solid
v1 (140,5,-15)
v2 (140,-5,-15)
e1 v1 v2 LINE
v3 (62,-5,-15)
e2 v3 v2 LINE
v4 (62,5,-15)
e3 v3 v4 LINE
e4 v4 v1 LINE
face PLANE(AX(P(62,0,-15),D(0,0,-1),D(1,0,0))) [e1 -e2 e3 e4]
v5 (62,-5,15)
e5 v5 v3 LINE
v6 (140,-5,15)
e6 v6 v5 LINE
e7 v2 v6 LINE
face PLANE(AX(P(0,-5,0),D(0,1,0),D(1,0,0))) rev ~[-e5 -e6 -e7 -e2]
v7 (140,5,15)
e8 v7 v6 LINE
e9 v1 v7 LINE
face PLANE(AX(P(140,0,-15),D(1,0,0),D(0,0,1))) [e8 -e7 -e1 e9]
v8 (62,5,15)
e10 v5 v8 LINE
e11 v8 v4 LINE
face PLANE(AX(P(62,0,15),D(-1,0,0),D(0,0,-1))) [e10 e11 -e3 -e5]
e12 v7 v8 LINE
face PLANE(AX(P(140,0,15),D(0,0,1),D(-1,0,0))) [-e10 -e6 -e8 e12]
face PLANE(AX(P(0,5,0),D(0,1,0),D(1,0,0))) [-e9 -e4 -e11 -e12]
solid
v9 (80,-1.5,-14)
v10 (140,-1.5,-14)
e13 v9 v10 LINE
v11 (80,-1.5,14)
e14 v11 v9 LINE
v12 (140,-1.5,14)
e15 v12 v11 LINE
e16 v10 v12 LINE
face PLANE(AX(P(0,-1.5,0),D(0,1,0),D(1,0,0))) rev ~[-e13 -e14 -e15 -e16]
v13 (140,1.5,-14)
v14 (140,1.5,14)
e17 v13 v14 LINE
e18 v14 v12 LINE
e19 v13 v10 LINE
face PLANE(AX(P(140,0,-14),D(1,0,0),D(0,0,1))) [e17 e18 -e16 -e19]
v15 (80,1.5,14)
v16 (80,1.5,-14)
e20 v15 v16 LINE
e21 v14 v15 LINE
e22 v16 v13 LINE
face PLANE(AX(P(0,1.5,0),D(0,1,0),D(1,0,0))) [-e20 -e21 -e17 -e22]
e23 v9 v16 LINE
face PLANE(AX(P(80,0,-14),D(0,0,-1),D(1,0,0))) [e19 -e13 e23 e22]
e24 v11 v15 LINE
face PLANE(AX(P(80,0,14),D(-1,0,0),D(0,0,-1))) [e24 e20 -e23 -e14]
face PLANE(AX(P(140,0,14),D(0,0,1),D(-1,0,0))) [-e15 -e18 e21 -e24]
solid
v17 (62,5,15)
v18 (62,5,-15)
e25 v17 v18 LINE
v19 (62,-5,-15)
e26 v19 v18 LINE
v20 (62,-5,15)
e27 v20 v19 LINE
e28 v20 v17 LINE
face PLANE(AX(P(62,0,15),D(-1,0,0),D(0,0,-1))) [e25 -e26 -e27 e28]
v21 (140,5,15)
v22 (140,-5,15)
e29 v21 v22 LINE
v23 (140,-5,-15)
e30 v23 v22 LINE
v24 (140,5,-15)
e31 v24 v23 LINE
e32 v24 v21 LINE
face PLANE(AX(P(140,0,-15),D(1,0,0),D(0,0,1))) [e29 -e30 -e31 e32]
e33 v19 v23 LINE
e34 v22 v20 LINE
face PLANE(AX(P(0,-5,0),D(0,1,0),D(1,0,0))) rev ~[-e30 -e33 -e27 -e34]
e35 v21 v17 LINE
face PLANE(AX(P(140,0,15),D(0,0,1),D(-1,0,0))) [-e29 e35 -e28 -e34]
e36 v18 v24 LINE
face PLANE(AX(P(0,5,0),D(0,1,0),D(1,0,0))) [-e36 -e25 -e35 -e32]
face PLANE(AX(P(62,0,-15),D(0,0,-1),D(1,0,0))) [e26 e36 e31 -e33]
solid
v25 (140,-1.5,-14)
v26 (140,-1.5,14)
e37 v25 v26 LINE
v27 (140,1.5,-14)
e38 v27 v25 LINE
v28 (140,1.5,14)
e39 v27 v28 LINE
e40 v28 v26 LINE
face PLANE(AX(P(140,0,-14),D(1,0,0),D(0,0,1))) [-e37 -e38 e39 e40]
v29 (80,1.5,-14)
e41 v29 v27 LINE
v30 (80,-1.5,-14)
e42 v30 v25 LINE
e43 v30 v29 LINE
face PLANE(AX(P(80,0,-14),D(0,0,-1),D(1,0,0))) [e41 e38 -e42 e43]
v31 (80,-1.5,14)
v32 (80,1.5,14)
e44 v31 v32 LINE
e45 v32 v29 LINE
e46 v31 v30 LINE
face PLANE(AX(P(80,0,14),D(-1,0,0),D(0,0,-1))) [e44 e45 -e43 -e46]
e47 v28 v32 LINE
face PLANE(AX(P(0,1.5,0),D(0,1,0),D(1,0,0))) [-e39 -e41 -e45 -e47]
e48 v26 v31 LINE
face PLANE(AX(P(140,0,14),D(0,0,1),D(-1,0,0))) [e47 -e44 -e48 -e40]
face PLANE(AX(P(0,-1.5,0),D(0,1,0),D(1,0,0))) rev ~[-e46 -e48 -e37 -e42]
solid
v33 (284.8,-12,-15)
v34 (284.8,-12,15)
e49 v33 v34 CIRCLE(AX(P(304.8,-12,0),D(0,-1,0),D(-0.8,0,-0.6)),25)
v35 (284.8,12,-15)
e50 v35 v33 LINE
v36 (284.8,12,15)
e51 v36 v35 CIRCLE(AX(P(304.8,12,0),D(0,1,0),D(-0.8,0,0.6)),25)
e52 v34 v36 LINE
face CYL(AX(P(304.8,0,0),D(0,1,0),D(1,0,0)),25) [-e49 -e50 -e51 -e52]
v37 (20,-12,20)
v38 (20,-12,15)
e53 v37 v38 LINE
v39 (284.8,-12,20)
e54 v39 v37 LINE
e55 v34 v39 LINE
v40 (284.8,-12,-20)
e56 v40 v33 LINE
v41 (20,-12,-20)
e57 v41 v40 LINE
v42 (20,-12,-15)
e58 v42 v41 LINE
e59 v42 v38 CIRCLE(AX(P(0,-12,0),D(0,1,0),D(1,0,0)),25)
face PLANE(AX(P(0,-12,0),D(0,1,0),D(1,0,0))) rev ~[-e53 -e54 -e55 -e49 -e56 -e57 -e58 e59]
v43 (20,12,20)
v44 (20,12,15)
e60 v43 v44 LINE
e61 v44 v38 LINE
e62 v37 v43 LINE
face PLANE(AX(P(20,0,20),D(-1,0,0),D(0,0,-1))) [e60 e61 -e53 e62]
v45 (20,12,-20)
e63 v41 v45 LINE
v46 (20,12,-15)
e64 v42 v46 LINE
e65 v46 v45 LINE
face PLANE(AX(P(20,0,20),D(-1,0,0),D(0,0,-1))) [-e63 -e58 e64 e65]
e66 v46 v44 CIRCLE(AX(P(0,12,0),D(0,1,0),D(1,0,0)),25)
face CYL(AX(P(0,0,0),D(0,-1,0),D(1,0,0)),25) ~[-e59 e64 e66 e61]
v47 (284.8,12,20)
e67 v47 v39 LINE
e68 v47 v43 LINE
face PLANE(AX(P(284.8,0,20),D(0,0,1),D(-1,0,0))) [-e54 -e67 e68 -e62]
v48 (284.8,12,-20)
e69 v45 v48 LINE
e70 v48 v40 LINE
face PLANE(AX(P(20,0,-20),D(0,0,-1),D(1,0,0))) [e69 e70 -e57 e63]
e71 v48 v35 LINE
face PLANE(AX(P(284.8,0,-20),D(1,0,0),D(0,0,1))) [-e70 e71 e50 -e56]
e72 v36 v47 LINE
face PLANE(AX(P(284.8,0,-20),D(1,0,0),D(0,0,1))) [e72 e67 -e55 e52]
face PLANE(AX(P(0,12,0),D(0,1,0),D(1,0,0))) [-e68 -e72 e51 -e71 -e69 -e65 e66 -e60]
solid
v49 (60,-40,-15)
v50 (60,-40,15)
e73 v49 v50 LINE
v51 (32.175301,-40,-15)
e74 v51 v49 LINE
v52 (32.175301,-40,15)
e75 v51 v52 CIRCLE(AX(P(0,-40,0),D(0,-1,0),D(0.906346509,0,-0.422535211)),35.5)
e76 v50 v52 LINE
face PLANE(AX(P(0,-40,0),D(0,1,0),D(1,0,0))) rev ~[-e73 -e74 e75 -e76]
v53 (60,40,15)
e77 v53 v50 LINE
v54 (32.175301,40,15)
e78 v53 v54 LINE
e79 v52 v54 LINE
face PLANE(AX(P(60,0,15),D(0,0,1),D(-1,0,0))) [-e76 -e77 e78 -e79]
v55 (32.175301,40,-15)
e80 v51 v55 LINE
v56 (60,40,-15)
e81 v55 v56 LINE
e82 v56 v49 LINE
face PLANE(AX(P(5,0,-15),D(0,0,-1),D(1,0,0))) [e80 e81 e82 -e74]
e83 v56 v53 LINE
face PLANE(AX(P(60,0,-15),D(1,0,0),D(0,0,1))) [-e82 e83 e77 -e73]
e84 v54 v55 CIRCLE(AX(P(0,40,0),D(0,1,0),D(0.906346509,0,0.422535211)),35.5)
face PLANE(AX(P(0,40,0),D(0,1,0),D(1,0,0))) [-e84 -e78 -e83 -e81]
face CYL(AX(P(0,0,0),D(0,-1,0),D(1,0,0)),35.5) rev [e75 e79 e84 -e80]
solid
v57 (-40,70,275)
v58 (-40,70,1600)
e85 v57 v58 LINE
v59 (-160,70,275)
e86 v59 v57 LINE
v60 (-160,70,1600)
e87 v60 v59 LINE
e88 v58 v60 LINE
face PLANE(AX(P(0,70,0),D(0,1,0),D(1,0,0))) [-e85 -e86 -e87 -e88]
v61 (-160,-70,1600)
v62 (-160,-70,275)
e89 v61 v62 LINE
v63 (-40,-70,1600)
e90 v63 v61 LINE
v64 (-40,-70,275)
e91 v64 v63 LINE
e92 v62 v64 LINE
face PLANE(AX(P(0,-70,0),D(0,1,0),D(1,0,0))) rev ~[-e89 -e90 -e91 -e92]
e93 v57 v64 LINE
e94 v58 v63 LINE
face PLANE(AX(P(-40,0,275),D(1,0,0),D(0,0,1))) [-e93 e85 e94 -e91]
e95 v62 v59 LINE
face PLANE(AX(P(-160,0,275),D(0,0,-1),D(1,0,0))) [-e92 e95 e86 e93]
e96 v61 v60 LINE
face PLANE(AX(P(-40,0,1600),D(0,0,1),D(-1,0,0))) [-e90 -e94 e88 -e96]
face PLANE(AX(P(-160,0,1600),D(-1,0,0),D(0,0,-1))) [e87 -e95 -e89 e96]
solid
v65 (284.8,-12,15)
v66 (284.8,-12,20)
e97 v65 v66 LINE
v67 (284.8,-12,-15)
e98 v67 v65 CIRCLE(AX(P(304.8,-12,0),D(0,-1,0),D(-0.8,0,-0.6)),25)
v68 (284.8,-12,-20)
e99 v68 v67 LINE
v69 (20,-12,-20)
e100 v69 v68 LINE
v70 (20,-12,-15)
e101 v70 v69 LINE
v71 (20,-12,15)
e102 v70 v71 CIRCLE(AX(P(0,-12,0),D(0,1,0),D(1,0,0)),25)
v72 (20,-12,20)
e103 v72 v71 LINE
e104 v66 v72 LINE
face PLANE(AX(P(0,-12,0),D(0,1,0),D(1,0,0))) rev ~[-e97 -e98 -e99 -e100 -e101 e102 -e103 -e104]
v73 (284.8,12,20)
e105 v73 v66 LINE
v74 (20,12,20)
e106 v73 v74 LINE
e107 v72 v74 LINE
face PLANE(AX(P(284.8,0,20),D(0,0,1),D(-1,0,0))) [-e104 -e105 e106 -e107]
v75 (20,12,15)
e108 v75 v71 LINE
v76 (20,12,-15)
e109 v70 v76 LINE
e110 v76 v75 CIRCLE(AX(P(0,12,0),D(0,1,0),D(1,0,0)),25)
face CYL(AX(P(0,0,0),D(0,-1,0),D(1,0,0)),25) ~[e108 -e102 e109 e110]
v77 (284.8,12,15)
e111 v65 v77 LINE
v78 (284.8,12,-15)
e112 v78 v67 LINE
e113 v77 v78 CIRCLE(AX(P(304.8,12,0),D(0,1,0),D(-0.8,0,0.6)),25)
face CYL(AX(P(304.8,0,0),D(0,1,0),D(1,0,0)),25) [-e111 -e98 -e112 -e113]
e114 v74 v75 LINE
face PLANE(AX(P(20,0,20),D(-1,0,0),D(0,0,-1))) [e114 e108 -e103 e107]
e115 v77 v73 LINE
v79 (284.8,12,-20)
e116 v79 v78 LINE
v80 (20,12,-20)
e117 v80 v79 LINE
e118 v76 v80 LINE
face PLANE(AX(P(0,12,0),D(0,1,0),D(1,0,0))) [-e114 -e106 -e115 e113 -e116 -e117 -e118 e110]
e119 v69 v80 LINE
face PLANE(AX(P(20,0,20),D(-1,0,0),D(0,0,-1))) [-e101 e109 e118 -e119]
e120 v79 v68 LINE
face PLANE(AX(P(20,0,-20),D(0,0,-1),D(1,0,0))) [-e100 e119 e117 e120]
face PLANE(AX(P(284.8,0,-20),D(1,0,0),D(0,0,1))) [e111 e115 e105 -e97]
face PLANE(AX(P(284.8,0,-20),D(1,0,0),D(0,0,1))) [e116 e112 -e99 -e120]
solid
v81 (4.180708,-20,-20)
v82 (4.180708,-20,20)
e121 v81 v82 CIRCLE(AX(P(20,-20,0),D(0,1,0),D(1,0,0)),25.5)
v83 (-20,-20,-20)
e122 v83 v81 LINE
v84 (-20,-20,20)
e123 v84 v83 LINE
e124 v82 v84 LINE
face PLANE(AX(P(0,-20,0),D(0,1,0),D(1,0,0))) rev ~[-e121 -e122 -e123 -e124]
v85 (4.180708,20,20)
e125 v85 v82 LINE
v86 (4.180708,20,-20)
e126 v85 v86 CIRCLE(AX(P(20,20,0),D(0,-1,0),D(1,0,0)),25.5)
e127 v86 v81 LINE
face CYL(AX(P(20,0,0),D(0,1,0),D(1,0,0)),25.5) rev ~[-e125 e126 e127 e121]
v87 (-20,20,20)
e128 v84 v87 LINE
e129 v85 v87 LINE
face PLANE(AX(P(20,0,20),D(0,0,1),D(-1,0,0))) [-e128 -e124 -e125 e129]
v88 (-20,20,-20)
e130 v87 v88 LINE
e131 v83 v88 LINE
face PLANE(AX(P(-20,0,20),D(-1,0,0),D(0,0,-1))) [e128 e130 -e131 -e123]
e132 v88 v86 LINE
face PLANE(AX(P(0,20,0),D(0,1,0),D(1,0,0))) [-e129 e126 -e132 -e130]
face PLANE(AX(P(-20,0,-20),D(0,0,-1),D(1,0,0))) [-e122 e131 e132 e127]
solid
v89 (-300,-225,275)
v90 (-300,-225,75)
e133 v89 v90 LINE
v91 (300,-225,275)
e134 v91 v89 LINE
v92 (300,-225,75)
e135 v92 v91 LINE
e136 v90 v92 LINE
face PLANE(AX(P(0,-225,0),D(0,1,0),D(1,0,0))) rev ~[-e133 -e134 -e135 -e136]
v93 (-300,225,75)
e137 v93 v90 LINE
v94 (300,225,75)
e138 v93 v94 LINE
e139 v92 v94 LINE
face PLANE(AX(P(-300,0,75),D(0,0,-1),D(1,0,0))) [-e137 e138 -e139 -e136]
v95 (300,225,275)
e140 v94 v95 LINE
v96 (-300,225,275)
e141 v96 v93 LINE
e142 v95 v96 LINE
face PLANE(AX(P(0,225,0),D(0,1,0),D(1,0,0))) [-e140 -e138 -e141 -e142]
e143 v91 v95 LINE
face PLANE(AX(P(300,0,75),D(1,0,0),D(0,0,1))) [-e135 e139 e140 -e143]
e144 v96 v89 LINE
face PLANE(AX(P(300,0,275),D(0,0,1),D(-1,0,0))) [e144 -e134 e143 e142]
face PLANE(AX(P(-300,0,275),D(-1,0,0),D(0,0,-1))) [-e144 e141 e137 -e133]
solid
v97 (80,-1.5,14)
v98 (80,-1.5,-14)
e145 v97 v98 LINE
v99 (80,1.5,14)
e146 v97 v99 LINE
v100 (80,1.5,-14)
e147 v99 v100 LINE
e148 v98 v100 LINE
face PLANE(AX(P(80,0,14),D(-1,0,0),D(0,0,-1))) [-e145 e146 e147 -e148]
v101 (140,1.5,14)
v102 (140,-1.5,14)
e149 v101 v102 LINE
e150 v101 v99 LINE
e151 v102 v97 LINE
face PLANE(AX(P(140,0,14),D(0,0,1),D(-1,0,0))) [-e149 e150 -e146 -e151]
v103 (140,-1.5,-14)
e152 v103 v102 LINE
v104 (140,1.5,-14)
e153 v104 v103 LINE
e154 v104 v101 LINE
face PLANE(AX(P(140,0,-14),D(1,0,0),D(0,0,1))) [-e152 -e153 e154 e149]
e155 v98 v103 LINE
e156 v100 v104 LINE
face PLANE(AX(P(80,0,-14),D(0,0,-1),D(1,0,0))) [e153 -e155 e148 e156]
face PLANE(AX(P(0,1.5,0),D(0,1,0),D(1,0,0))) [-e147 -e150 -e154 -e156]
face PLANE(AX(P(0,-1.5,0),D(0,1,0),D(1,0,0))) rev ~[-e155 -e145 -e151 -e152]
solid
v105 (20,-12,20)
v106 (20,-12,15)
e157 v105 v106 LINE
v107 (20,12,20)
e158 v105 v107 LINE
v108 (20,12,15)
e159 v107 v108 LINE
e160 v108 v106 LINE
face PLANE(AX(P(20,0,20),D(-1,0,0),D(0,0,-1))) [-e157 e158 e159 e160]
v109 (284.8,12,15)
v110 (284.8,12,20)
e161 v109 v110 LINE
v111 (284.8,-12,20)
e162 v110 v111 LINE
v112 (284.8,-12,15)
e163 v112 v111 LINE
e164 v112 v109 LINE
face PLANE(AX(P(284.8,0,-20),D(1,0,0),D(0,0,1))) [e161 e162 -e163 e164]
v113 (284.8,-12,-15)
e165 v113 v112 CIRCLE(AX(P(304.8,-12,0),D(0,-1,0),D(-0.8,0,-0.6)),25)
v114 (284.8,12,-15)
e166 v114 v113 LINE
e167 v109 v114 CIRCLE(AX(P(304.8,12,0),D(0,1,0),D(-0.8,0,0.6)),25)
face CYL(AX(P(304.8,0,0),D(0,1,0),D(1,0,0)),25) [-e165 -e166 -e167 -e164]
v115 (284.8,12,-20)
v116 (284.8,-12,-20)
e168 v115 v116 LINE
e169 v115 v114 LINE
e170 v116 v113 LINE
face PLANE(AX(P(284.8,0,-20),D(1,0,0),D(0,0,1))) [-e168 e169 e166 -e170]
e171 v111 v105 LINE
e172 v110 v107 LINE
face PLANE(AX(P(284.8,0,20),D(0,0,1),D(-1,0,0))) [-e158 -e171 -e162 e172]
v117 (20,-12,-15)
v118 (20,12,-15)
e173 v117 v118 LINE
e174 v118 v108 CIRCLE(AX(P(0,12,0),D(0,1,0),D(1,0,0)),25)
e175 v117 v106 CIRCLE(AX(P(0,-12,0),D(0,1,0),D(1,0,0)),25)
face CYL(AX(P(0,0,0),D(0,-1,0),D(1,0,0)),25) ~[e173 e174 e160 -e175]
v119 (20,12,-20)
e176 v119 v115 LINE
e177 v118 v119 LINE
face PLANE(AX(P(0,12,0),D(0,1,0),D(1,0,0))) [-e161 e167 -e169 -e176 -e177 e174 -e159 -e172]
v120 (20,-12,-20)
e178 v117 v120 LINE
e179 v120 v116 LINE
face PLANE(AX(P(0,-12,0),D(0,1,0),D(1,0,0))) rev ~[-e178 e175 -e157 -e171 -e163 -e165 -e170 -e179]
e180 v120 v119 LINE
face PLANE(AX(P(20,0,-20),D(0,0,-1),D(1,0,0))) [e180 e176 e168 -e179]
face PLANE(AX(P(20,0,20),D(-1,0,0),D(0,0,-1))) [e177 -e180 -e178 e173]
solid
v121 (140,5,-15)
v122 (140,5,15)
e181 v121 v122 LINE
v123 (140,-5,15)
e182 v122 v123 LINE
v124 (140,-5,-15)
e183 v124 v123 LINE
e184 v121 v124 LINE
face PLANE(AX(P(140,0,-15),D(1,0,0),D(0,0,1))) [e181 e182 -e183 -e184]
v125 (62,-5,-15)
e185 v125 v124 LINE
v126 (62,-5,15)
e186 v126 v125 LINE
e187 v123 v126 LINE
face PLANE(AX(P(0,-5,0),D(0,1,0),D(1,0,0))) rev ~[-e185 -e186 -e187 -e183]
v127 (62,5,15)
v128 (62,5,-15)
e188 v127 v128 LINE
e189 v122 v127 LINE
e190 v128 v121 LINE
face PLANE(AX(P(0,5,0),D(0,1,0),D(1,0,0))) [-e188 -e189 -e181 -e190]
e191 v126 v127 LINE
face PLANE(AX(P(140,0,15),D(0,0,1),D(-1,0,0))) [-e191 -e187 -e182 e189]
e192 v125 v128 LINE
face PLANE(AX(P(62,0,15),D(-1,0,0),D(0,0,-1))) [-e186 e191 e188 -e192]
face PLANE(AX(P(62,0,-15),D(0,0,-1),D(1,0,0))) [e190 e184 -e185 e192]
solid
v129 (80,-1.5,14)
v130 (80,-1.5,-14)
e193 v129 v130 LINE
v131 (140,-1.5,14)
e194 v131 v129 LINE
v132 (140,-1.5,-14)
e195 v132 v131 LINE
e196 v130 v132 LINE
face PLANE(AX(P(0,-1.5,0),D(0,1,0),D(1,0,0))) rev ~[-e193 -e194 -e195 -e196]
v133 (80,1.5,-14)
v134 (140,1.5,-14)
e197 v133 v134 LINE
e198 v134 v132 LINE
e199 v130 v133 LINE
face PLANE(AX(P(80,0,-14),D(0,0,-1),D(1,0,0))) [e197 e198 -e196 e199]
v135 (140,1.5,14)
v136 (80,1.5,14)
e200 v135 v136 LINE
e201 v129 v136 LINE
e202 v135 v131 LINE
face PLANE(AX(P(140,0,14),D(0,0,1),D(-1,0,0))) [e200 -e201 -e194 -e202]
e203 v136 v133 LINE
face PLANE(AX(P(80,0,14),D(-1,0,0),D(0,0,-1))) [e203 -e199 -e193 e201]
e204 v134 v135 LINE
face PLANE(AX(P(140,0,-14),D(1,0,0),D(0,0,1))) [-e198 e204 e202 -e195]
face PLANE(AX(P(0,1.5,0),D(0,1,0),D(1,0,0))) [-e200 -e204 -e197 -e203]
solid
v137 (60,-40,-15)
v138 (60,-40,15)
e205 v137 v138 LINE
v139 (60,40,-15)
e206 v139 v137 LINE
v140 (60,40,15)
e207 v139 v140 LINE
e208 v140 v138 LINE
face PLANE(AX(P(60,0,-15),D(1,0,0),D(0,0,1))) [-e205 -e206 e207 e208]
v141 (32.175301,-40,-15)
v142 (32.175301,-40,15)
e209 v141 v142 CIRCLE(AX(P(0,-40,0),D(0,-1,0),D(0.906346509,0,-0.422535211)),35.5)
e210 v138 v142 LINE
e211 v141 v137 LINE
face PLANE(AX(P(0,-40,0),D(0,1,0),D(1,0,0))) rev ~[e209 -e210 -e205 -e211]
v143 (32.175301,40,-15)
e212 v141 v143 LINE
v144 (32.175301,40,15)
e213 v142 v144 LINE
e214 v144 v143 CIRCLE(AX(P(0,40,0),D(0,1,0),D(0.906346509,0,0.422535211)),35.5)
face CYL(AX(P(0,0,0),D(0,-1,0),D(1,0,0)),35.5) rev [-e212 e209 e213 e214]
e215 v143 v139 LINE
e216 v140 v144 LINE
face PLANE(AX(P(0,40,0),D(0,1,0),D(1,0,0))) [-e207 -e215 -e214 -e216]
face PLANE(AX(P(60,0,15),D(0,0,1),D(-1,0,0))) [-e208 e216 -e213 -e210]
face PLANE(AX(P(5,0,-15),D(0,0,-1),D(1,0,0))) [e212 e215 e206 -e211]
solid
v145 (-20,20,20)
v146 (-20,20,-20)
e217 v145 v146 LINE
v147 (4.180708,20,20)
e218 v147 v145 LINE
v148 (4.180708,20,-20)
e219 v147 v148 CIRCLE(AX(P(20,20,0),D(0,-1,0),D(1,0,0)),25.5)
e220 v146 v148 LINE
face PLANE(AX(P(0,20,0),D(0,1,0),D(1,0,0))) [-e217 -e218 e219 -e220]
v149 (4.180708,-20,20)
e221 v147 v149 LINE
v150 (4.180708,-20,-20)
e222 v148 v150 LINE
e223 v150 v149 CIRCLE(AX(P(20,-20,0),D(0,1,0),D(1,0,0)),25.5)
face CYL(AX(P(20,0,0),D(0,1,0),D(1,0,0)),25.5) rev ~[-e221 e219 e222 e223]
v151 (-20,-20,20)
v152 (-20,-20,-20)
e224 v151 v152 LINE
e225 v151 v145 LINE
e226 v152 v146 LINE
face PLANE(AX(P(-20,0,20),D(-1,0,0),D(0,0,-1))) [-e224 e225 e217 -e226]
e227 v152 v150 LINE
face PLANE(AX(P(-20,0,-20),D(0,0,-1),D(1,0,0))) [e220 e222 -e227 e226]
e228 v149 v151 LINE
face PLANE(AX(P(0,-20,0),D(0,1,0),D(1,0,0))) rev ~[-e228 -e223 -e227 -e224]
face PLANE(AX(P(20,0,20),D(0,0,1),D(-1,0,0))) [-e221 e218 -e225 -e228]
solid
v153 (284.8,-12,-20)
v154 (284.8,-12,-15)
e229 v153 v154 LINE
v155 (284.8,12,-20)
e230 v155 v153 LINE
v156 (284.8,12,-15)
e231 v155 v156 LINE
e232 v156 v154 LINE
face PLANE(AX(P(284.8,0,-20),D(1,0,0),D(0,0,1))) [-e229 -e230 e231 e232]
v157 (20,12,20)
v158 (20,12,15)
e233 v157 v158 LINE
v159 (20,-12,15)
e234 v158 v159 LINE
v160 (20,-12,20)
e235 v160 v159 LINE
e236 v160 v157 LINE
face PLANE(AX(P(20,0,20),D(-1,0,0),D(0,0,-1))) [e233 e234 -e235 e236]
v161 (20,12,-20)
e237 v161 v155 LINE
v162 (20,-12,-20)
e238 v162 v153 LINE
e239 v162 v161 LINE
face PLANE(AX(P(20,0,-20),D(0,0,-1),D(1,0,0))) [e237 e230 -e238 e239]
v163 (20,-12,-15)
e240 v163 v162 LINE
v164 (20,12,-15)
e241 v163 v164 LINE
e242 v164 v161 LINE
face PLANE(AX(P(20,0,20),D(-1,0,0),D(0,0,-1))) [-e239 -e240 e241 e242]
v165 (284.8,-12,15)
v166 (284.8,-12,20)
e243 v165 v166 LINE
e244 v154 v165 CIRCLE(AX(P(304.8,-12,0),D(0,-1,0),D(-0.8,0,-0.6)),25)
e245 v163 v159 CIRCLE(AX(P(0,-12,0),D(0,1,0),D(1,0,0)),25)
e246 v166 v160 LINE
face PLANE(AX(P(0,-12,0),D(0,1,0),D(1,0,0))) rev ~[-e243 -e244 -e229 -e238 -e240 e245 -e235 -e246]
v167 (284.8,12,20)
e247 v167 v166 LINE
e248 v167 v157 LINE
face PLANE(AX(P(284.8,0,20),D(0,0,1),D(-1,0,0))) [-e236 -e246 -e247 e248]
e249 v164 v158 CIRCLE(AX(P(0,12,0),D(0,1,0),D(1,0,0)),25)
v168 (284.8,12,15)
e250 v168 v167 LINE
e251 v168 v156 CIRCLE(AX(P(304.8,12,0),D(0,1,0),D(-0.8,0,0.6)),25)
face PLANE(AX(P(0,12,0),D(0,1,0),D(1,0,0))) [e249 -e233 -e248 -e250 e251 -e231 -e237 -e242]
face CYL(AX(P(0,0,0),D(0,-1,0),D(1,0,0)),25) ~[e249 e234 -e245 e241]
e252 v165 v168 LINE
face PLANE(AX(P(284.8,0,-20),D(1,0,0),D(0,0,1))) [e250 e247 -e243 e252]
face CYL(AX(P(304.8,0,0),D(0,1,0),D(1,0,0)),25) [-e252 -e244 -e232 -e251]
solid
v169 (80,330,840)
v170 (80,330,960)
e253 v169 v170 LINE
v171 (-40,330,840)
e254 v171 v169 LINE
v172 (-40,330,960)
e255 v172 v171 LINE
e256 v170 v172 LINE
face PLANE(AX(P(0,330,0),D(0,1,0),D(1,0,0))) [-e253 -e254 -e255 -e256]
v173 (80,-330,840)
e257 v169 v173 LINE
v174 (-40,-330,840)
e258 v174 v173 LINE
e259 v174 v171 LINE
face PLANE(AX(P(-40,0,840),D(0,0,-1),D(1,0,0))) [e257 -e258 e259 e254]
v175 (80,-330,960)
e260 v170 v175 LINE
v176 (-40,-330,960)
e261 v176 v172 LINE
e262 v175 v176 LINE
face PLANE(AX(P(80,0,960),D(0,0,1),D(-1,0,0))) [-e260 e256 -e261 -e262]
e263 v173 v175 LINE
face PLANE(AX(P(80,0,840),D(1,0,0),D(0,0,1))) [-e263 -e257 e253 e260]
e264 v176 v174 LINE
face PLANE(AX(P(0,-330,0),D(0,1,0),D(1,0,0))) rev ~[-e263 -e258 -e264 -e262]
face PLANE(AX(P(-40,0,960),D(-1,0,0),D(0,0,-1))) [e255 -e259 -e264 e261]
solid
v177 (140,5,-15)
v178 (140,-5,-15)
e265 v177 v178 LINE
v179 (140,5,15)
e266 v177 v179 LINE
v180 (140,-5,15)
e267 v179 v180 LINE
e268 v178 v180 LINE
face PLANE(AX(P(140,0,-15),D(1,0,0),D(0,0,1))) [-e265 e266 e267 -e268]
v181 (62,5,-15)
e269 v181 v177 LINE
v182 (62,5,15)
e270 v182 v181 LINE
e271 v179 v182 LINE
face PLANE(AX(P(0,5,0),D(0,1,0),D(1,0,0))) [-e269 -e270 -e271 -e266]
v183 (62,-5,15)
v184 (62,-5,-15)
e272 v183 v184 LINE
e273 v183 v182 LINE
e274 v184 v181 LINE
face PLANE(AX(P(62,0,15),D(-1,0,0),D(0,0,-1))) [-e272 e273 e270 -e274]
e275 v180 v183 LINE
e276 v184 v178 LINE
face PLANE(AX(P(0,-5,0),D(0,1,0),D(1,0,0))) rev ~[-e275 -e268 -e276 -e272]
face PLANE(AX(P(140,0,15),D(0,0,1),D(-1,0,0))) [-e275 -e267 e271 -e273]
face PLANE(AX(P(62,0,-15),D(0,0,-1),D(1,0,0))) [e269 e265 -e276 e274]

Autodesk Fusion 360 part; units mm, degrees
sketch "Layout_Side" plane through (0, 0, 0) normal (0, 1, 0) x (1, 0, 0) in component "00_Layout"
  line L0 (0, 0) -> (0, -1676.4) construction
  line L1 (300, -275) -> (-300, -275) construction
  line L2 (-300, -275) -> (-300, -75) construction
  line L3 (-300, -75) -> (300, -75) construction
  line L4 (300, -75) -> (300, -275) construction
  line L5 (300, -275) -> (-300, -75) construction
  line L6 (-300, -275) -> (300, -75) construction
  line L7 (0, -1676.4) -> (600, -1676.4) construction
  line L8 (0, -175) -> (0, -75) construction
  dimension "d1" = 200
  dimension "d2" = 600
  dimension "d4" = 600
  dimension "d5" = 75
  dimension "d6" = 1676.4
sketch "Base_Profile" plane through (0, 0, 0) normal (0, 1, 0) x (1, 0, 0) in component "01_Base_Envelope"
  line L0 (300, -275) -> (-300, -275)
  line L1 (-300, -275) -> (-300, -75)
  line L2 (-300, -75) -> (300, -75)
  line L3 (300, -75) -> (300, -275)
extrude "Chassis_Width_450mm" add sketch "Base_Profile" along normal mid plane 450 makes body 1 in component "01_Base_Envelope"
sketch "Mast_Envelope_Side_Profile" plane through (0, 0, 0) normal (0, 1, 0) x (1, 0, 0) in component "02_Mast_Envelope"
  line L0 (-160, -275) -> (-40, -275)
  line L1 (-40, -275) -> (-40, -1600)
  line L2 (-40, -1600) -> (-160, -1600)
  line L3 (-160, -1600) -> (-160, -275)
  line L4 (300, -275) -> (-300, -275) construction
  dimension "d9" = 120
  dimension "d10" = 1325
  dimension "d11" = 160
extrude "Mast_Envelope_Width_140mm" add sketch "Mast_Envelope_Side_Profile" along normal mid plane 140 separate body makes body 2 in component "02_Mast_Envelope"
sketch "Shared_Carriage_Side_Profile" plane through (0, 0, 0) normal (0, 1, 0) x (1, 0, 0) in component "03_Shared_Carriage"
  line L0 (-40, -840) -> (80, -840)
  line L1 (80, -840) -> (80, -960)
  line L2 (80, -960) -> (-40, -960)
  line L3 (-40, -960) -> (-40, -840)
  dimension "d14" = 120
  dimension "d15" = 120
  dimension "d16" = 40
  dimension "d17" = 840
extrude "Shared_Carriage_Width_660mm" add sketch "Shared_Carriage_Side_Profile" along normal mid plane 660 separate body makes body 3 in component "03_Shared_Carriage"
ref_plane "WorkPlane1" through (0, 300, 0) normal (0, 1, 0) x (0, 0, 1) in component "00_Layout"
sketch "Reach_Left_Floor_2x304p8mm" plane through (0, 300, 0) normal (0, 1, 0) x (1, 0, 0) in component "00_Layout"
  circle A0 centre (80, -400) radius 609.6 construction
  line L0 (80, -400) -> (380.0994, -346.6765) construction
  line L1 (380.0994, -346.6765) -> (450, -50) construction
  dimension "d25" = 80
  dimension "d26" = 400
  dimension "d27" = 450
  dimension "d28" = 50
  dimension "d29" = 609.6
  dimension "d30" = 304.8
  dimension "d31" = 304.8
sketch "Reach_Left_Shelf_2x304p8mm" plane through (0, 300, 0) normal (0, 1, 0) x (1, 0, 0) in component "00_Layout"
  circle A0 centre (80, -1400) radius 609.6 construction
  line L0 (80, -1400) -> (198.6357, -1680.7643) construction
  line L1 (198.6357, -1680.7643) -> (500, -1726.4) construction
  dimension "d32" = 80
  dimension "d33" = 1400
  dimension "d34" = 500
  dimension "d35" = 1726.4
  dimension "d36" = 609.6
  dimension "d37" = 304.8
  dimension "d38" = 304.8
ref_plane "WorkPlane2" through (0, -300, 0) normal (0, 1, 0) x (0, 0, 1) in component "00_Layout"
sketch "Reach_Right_Floor_2x304p8mm" plane through (0, -300, 0) normal (0, 1, 0) x (1, 0, 0) in component "00_Layout"
  circle A0 centre (80, -400) radius 609.6 construction
  line L0 (80, -400) -> (380.0994, -346.6765) construction
  line L1 (380.0994, -346.6765) -> (450, -50) construction
  dimension "d41" = 80
  dimension "d42" = 400
  dimension "d43" = 450
  dimension "d44" = 50
  dimension "d45" = 609.6
  dimension "d46" = 304.8
  dimension "d47" = 304.8
sketch "Reach_Right_Shelf_2x304p8mm" plane through (0, -300, 0) normal (0, 1, 0) x (1, 0, 0) in component "00_Layout"
  circle A0 centre (80, -1400) radius 609.6 construction
  line L0 (80, -1400) -> (198.6357, -1680.7643) construction
  line L1 (198.6357, -1680.7643) -> (500, -1726.4) construction
  dimension "d48" = 80
  dimension "d49" = 1400
  dimension "d50" = 500
  dimension "d51" = 1726.4
  dimension "d52" = 609.6
  dimension "d53" = 304.8
  dimension "d54" = 304.8
sketch "Shoulder_Mount_Profile" plane through (0, 0, 0) normal (0, 1, 0) x (1, 0, 0) in component "04_Left_Shoulder_Standoff"
  line L0 (-20, 20) -> (20, 20)
  line L1 (20, 20) -> (20, -20)
  line L2 (20, -20) -> (-20, -20)
  line L3 (-20, -20) -> (-20, 20)
  dimension "d55" = 20
  dimension "d56" = 20
  dimension "d57" = 40
  dimension "d58" = 40
extrude "Shoulder_Mount" add sketch "Shoulder_Mount_Profile" along normal mid plane 40 separate body makes body 4 in component "04_Left_Shoulder_Standoff"
sketch "Upper_Link_304p8mm_Profile" plane through (0, 0, 0) normal (0, 1, 0) x (1, 0, 0) in component "05_Left_Upper_Arm"
  line L0 (20, 20) -> (284.8, 20)
  line L1 (284.8, 20) -> (284.8, -20)
  line L2 (284.8, -20) -> (20, -20)
  line L3 (20, -20) -> (20, 20)
  dimension "d61" = 20
  dimension "d62" = 20
  dimension "d63" = 264.8
  dimension "d64" = 40
extrude "Upper_Link_304p8mm" add sketch "Upper_Link_304p8mm_Profile" along normal mid plane 24 separate body makes body 5 in component "05_Left_Upper_Arm"
sketch "Joint_Axis_Locations" plane through (0, 0, 0) normal (0, 1, 0) x (1, 0, 0) in component "05_Left_Upper_Arm"
  line L0 (0, 0) -> (304.8, 0) construction
  dimension "d67" = 304.8
sketch "Fore_Link_304p8mm_Profile" plane through (0, 0, 0) normal (0, 1, 0) x (1, 0, 0) in component "06_Left_Forearm"
  line L0 (20, 20) -> (284.8, 20)
  line L1 (284.8, 20) -> (284.8, -20)
  line L2 (284.8, -20) -> (20, -20)
  line L3 (20, -20) -> (20, 20)
  dimension "d68" = 20
  dimension "d69" = 20
  dimension "d70" = 264.8
  dimension "d71" = 40
extrude "Fore_Link_304p8mm" add sketch "Fore_Link_304p8mm_Profile" along normal mid plane 24 separate body makes body 6 in component "06_Left_Forearm"
sketch "Joint_Axis_Locations (2)" plane through (0, 0, 0) normal (0, 1, 0) x (1, 0, 0) in component "06_Left_Forearm"
  line L0 (0, 0) -> (304.8, 0) construction
  dimension "d74" = 304.8
sketch "Palm_Envelope_Profile" plane through (0, 0, 0) normal (0, 1, 0) x (1, 0, 0) in component "07_Left_Wrist_Palm"
  line L0 (5, 15) -> (60, 15)
  line L1 (60, 15) -> (60, -15)
  line L2 (60, -15) -> (5, -15)
  line L3 (5, -15) -> (5, 15)
  dimension "d75" = 5
  dimension "d76" = 15
  dimension "d77" = 55
  dimension "d78" = 30
extrude "Palm_Envelope" add sketch "Palm_Envelope_Profile" along normal mid plane 80 separate body makes body 7 in component "07_Left_Wrist_Palm"
sketch "Joint_Axis_Locations (3)" plane through (0, 0, 0) normal (0, 1, 0) x (1, 0, 0) in component "07_Left_Wrist_Palm"
  line L0 (0, 0) -> (110, 0) construction
  dimension "d81" = 110
sketch "Finger_Envelope_Profile" plane through (0, 0, 0) normal (0, 1, 0) x (1, 0, 0) in component "08_Left_Finger_Positive"
  line L0 (62, 15) -> (140, 15)
  line L1 (140, 15) -> (140, -15)
  line L2 (140, -15) -> (62, -15)
  line L3 (62, -15) -> (62, 15)
  dimension "d88" = 62
  dimension "d89" = 15
  dimension "d90" = 78
  dimension "d91" = 30
extrude "Finger_Envelope" add sketch "Finger_Envelope_Profile" along normal mid plane 10 separate body makes body 8 in component "08_Left_Finger_Positive"
sketch "Soft_Pad_Envelope_Profile" plane through (0, 0, 0) normal (0, 1, 0) x (1, 0, 0) in component "09_Left_Pad_Positive"
  line L0 (80, 14) -> (140, 14)
  line L1 (140, 14) -> (140, -14)
  line L2 (140, -14) -> (80, -14)
  line L3 (80, -14) -> (80, 14)
  dimension "d94" = 80
  dimension "d95" = 14
  dimension "d96" = 60
  dimension "d97" = 28
extrude "Soft_Pad_Envelope" add sketch "Soft_Pad_Envelope_Profile" along normal mid plane 3 separate body makes body 9 in component "09_Left_Pad_Positive"
sketch "Finger_Envelope_Profile (2)" plane through (0, 0, 0) normal (0, 1, 0) x (1, 0, 0) in component "08_Left_Finger_Negative"
  line L0 (62, 15) -> (140, 15)
  line L1 (140, 15) -> (140, -15)
  line L2 (140, -15) -> (62, -15)
  line L3 (62, -15) -> (62, 15)
  dimension "d102" = 62
  dimension "d103" = 15
  dimension "d104" = 78
  dimension "d105" = 30
extrude "Finger_Envelope'" add sketch "Finger_Envelope_Profile (2)" along normal mid plane 10 separate body makes body 10 in component "08_Left_Finger_Negative"
sketch "Soft_Pad_Envelope_Profile (2)" plane through (0, 0, 0) normal (0, 1, 0) x (1, 0, 0) in component "09_Left_Pad_Negative"
  line L0 (80, 14) -> (140, 14)
  line L1 (140, 14) -> (140, -14)
  line L2 (140, -14) -> (80, -14)
  line L3 (80, -14) -> (80, 14)
  dimension "d108" = 80
  dimension "d109" = 14
  dimension "d110" = 60
  dimension "d111" = 28
extrude "Soft_Pad_Envelope'" add sketch "Soft_Pad_Envelope_Profile (2)" along normal mid plane 3 separate body makes body 11 in component "09_Left_Pad_Negative"
sketch "Shoulder_Mount_Profile (2)" plane through (0, 0, 0) normal (0, 1, 0) x (1, 0, 0) in component "04_Right_Shoulder_Standoff"
  line L0 (-20, 20) -> (20, 20)
  line L1 (20, 20) -> (20, -20)
  line L2 (20, -20) -> (-20, -20)
  line L3 (-20, -20) -> (-20, 20)
  dimension "d116" = 20
  dimension "d117" = 20
  dimension "d118" = 40
  dimension "d119" = 40
extrude "Shoulder_Mount'" add sketch "Shoulder_Mount_Profile (2)" along normal mid plane 40 separate body makes body 12 in component "04_Right_Shoulder_Standoff"
sketch "Upper_Link_304p8mm_Profile (2)" plane through (0, 0, 0) normal (0, 1, 0) x (1, 0, 0) in component "05_Right_Upper_Arm"
  line L0 (20, 20) -> (284.8, 20)
  line L1 (284.8, 20) -> (284.8, -20)
  line L2 (284.8, -20) -> (20, -20)
  line L3 (20, -20) -> (20, 20)
  dimension "d122" = 20
  dimension "d123" = 20
  dimension "d124" = 264.8
  dimension "d125" = 40
extrude "Upper_Link_304p8mm'" add sketch "Upper_Link_304p8mm_Profile (2)" along normal mid plane 24 separate body makes body 13 in component "05_Right_Upper_Arm"
sketch "Joint_Axis_Locations (4)" plane through (0, 0, 0) normal (0, 1, 0) x (1, 0, 0) in component "05_Right_Upper_Arm"
  line L0 (0, 0) -> (304.8, 0) construction
  dimension "d128" = 304.8
sketch "Fore_Link_304p8mm_Profile (2)" plane through (0, 0, 0) normal (0, 1, 0) x (1, 0, 0) in component "06_Right_Forearm"
  line L0 (20, 20) -> (284.8, 20)
  line L1 (284.8, 20) -> (284.8, -20)
  line L2 (284.8, -20) -> (20, -20)
  line L3 (20, -20) -> (20, 20)
  dimension "d129" = 20
  dimension "d130" = 20
  dimension "d131" = 264.8
  dimension "d132" = 40
extrude "Fore_Link_304p8mm'" add sketch "Fore_Link_304p8mm_Profile (2)" along normal mid plane 24 separate body makes body 14 in component "06_Right_Forearm"
sketch "Joint_Axis_Locations (5)" plane through (0, 0, 0) normal (0, 1, 0) x (1, 0, 0) in component "06_Right_Forearm"
  line L0 (0, 0) -> (304.8, 0) construction
  dimension "d135" = 304.8
sketch "Palm_Envelope_Profile (2)" plane through (0, 0, 0) normal (0, 1, 0) x (1, 0, 0) in component "07_Right_Wrist_Palm"
  line L0 (5, 15) -> (60, 15)
  line L1 (60, 15) -> (60, -15)
  line L2 (60, -15) -> (5, -15)
  line L3 (5, -15) -> (5, 15)
  dimension "d136" = 5
  dimension "d137" = 15
  dimension "d138" = 55
  dimension "d139" = 30
extrude "Palm_Envelope'" add sketch "Palm_Envelope_Profile (2)" along normal mid plane 80 separate body makes body 15 in component "07_Right_Wrist_Palm"
sketch "Joint_Axis_Locations (6)" plane through (0, 0, 0) normal (0, 1, 0) x (1, 0, 0) in component "07_Right_Wrist_Palm"
  line L0 (0, 0) -> (110, 0) construction
  dimension "d142" = 110
sketch "Finger_Envelope_Profile (3)" plane through (0, 0, 0) normal (0, 1, 0) x (1, 0, 0) in component "08_Right_Finger_Positive"
  line L0 (62, 15) -> (140, 15)
  line L1 (140, 15) -> (140, -15)
  line L2 (140, -15) -> (62, -15)
  line L3 (62, -15) -> (62, 15)
  dimension "d149" = 62
  dimension "d150" = 15
  dimension "d151" = 78
  dimension "d152" = 30
extrude "Finger_Envelope''" add sketch "Finger_Envelope_Profile (3)" along normal mid plane 10 separate body makes body 16 in component "08_Right_Finger_Positive"
sketch "Soft_Pad_Envelope_Profile (3)" plane through (0, 0, 0) normal (0, 1, 0) x (1, 0, 0) in component "09_Right_Pad_Positive"
  line L0 (80, 14) -> (140, 14)
  line L1 (140, 14) -> (140, -14)
  line L2 (140, -14) -> (80, -14)
  line L3 (80, -14) -> (80, 14)
  dimension "d155" = 80
  dimension "d156" = 14
  dimension "d157" = 60
  dimension "d158" = 28
extrude "Soft_Pad_Envelope''" add sketch "Soft_Pad_Envelope_Profile (3)" along normal mid plane 3 separate body makes body 17 in component "09_Right_Pad_Positive"
sketch "Finger_Envelope_Profile (4)" plane through (0, 0, 0) normal (0, 1, 0) x (1, 0, 0) in component "08_Right_Finger_Negative"
  line L0 (62, 15) -> (140, 15)
  line L1 (140, 15) -> (140, -15)
  line L2 (140, -15) -> (62, -15)
  line L3 (62, -15) -> (62, 15)
  dimension "d163" = 62
  dimension "d164" = 15
  dimension "d165" = 78
  dimension "d166" = 30
extrude "Finger_Envelope'''" add sketch "Finger_Envelope_Profile (4)" along normal mid plane 10 separate body makes body 18 in component "08_Right_Finger_Negative"
sketch "Soft_Pad_Envelope_Profile (4)" plane through (0, 0, 0) normal (0, 1, 0) x (1, 0, 0) in component "09_Right_Pad_Negative"
  line L0 (80, 14) -> (140, 14)
  line L1 (140, 14) -> (140, -14)
  line L2 (140, -14) -> (80, -14)
  line L3 (80, -14) -> (80, 14)
  dimension "d169" = 80
  dimension "d170" = 14
  dimension "d171" = 60
  dimension "d172" = 28
extrude "Soft_Pad_Envelope'''" add sketch "Soft_Pad_Envelope_Profile (4)" along normal mid plane 3 separate body makes body 19 in component "09_Right_Pad_Negative"
sketch "Pivot_Housing_Envelopes" plane through (0, 0, 0) normal (0, 1, 0) x (1, 0, 0) in component "05_Left_Upper_Arm"
  circle A0 centre (0, 0) radius 25
  line L0 (0, 0) -> (304.8, 0) construction
  circle A1 centre (304.8, 0) radius 25
  dimension "d177" = 25
  dimension "d178" = 304.8
  dimension "d179" = 25
extrude "Pivot_Housing_Envelopes_24mm" add sketch "Pivot_Housing_Envelopes" along normal mid plane 24 bodies 5 in component "05_Left_Upper_Arm"
sketch "Pivot_Housing_Envelopes (2)" plane through (0, 0, 0) normal (0, 1, 0) x (1, 0, 0) in component "06_Left_Forearm"
  circle A0 centre (0, 0) radius 25
  line L0 (0, 0) -> (304.8, 0) construction
  circle A1 centre (304.8, 0) radius 25
  dimension "d182" = 25
  dimension "d183" = 304.8
  dimension "d184" = 25
extrude "Pivot_Housing_Envelopes_24mm'" add sketch "Pivot_Housing_Envelopes (2)" along normal mid plane 24 bodies 6 in component "06_Left_Forearm"
sketch "Pivot_Housing_Envelopes (3)" plane through (0, 0, 0) normal (0, 1, 0) x (1, 0, 0) in component "05_Right_Upper_Arm"
  circle A0 centre (0, 0) radius 25
  line L0 (0, 0) -> (304.8, 0) construction
  circle A1 centre (304.8, 0) radius 25
  dimension "d187" = 25
  dimension "d188" = 304.8
  dimension "d189" = 25
extrude "Pivot_Housing_Envelopes_24mm''" add sketch "Pivot_Housing_Envelopes (3)" along normal mid plane 24 bodies 13 in component "05_Right_Upper_Arm"
sketch "Pivot_Housing_Envelopes (4)" plane through (0, 0, 0) normal (0, 1, 0) x (1, 0, 0) in component "06_Right_Forearm"
  circle A0 centre (0, 0) radius 25
  line L0 (0, 0) -> (304.8, 0) construction
  circle A1 centre (304.8, 0) radius 25
  dimension "d192" = 25
  dimension "d193" = 304.8
  dimension "d194" = 25
extrude "Pivot_Housing_Envelopes_24mm'''" add sketch "Pivot_Housing_Envelopes (4)" along normal mid plane 24 bodies 14 in component "06_Right_Forearm"
sketch "Pivot_Clearance_25p5mm" plane through (0, 0, 0) normal (0, 1, 0) x (1, 0, 0) in component "04_Left_Shoulder_Standoff"
  line L0 (0, 0) -> (20, 0) construction
  circle A0 centre (20, 0) radius 25.5
  dimension "d197" = 20
  dimension "d198" = 25.5
sketch "Wrist_Sweep_Clearance_35p5mm" plane through (0, 0, 0) normal (0, 1, 0) x (1, 0, 0) in component "07_Left_Wrist_Palm"
  circle A0 centre (0, 0) radius 35.5
  dimension "d203" = 35.5
sketch "Pivot_Clearance_25p5mm (2)" plane through (0, 0, 0) normal (0, 1, 0) x (1, 0, 0) in component "04_Right_Shoulder_Standoff"
  line L0 (0, 0) -> (20, 0) construction
  circle A0 centre (20, 0) radius 25.5
  dimension "d208" = 20
  dimension "d209" = 25.5
sketch "Wrist_Sweep_Clearance_35p5mm (2)" plane through (0, 0, 0) normal (0, 1, 0) x (1, 0, 0) in component "07_Right_Wrist_Palm"
  circle A0 centre (0, 0) radius 35.5
  dimension "d214" = 35.5
extrude "Pivot_Clearance_Cut_This_Component_Only" cut sketch "Pivot_Clearance_25p5mm" along normal mid plane 90 bodies 4 in component "04_Left_Shoulder_Standoff"
extrude "Pivot_Clearance_Cut_This_Component_Only'" cut sketch "Wrist_Sweep_Clearance_35p5mm" along normal mid plane 90 bodies 7 in component "07_Left_Wrist_Palm"
extrude "Pivot_Clearance_Cut_This_Component_Only''" cut sketch "Pivot_Clearance_25p5mm (2)" along normal mid plane 90 bodies 12 in component "04_Right_Shoulder_Standoff"
extrude "Pivot_Clearance_Cut_This_Component_Only'''" cut sketch "Wrist_Sweep_Clearance_35p5mm (2)" along normal mid plane 90 bodies 15 in component "07_Right_Wrist_Palm"
component "00_Layout" placed x (1, 0, 0) y (0, 1, 0) z (0, 0, 1) at (0, 0, 0)
component "01_Base_Envelope" placed x (1, 0, 0) y (0, 1, 0) z (0, 0, 1) at (0, 0, 0)
component "02_Mast_Envelope" placed x (1, 0, 0) y (0, 1, 0) z (0, 0, 1) at (0, 0, 0)
component "03_Shared_Carriage" placed x (1, 0, 0) y (0, 1, 0) z (0, 0, 1) at (0, 0, 0)
component "04_Left_Shoulder_Standoff" placed x (1, 0, 0) y (0, 1, 0) z (0, 0, 1) at (0, 0, 0)
component "05_Left_Upper_Arm" placed x (1, 0, 0) y (0, 1, 0) z (0, 0, 1) at (0, 0, 0)
component "06_Left_Forearm" placed x (1, 0, 0) y (0, 1, 0) z (0, 0, 1) at (0, 0, 0)
component "07_Left_Wrist_Palm" placed x (1, 0, 0) y (0, 1, 0) z (0, 0, 1) at (0, 0, 0)
component "08_Left_Finger_Positive" placed x (1, 0, 0) y (0, 1, 0) z (0, 0, 1) at (0, 0, 0)
component "09_Left_Pad_Positive" placed x (1, 0, 0) y (0, 1, 0) z (0, 0, 1) at (0, 0, 0)
component "08_Left_Finger_Negative" placed x (1, 0, 0) y (0, 1, 0) z (0, 0, 1) at (0, 0, 0)
component "09_Left_Pad_Negative" placed x (1, 0, 0) y (0, 1, 0) z (0, 0, 1) at (0, 0, 0)
component "04_Right_Shoulder_Standoff" placed x (1, 0, 0) y (0, 1, 0) z (0, 0, 1) at (0, 0, 0)
component "05_Right_Upper_Arm" placed x (1, 0, 0) y (0, 1, 0) z (0, 0, 1) at (0, 0, 0)
component "06_Right_Forearm" placed x (1, 0, 0) y (0, 1, 0) z (0, 0, 1) at (0, 0, 0)
component "07_Right_Wrist_Palm" placed x (1, 0, 0) y (0, 1, 0) z (0, 0, 1) at (0, 0, 0)
component "08_Right_Finger_Positive" placed x (1, 0, 0) y (0, 1, 0) z (0, 0, 1) at (0, 0, 0)
component "09_Right_Pad_Positive" placed x (1, 0, 0) y (0, 1, 0) z (0, 0, 1) at (0, 0, 0)
component "08_Right_Finger_Negative" placed x (1, 0, 0) y (0, 1, 0) z (0, 0, 1) at (0, 0, 0)
component "09_Right_Pad_Negative" placed x (1, 0, 0) y (0, 1, 0) z (0, 0, 1) at (0, 0, 0)
